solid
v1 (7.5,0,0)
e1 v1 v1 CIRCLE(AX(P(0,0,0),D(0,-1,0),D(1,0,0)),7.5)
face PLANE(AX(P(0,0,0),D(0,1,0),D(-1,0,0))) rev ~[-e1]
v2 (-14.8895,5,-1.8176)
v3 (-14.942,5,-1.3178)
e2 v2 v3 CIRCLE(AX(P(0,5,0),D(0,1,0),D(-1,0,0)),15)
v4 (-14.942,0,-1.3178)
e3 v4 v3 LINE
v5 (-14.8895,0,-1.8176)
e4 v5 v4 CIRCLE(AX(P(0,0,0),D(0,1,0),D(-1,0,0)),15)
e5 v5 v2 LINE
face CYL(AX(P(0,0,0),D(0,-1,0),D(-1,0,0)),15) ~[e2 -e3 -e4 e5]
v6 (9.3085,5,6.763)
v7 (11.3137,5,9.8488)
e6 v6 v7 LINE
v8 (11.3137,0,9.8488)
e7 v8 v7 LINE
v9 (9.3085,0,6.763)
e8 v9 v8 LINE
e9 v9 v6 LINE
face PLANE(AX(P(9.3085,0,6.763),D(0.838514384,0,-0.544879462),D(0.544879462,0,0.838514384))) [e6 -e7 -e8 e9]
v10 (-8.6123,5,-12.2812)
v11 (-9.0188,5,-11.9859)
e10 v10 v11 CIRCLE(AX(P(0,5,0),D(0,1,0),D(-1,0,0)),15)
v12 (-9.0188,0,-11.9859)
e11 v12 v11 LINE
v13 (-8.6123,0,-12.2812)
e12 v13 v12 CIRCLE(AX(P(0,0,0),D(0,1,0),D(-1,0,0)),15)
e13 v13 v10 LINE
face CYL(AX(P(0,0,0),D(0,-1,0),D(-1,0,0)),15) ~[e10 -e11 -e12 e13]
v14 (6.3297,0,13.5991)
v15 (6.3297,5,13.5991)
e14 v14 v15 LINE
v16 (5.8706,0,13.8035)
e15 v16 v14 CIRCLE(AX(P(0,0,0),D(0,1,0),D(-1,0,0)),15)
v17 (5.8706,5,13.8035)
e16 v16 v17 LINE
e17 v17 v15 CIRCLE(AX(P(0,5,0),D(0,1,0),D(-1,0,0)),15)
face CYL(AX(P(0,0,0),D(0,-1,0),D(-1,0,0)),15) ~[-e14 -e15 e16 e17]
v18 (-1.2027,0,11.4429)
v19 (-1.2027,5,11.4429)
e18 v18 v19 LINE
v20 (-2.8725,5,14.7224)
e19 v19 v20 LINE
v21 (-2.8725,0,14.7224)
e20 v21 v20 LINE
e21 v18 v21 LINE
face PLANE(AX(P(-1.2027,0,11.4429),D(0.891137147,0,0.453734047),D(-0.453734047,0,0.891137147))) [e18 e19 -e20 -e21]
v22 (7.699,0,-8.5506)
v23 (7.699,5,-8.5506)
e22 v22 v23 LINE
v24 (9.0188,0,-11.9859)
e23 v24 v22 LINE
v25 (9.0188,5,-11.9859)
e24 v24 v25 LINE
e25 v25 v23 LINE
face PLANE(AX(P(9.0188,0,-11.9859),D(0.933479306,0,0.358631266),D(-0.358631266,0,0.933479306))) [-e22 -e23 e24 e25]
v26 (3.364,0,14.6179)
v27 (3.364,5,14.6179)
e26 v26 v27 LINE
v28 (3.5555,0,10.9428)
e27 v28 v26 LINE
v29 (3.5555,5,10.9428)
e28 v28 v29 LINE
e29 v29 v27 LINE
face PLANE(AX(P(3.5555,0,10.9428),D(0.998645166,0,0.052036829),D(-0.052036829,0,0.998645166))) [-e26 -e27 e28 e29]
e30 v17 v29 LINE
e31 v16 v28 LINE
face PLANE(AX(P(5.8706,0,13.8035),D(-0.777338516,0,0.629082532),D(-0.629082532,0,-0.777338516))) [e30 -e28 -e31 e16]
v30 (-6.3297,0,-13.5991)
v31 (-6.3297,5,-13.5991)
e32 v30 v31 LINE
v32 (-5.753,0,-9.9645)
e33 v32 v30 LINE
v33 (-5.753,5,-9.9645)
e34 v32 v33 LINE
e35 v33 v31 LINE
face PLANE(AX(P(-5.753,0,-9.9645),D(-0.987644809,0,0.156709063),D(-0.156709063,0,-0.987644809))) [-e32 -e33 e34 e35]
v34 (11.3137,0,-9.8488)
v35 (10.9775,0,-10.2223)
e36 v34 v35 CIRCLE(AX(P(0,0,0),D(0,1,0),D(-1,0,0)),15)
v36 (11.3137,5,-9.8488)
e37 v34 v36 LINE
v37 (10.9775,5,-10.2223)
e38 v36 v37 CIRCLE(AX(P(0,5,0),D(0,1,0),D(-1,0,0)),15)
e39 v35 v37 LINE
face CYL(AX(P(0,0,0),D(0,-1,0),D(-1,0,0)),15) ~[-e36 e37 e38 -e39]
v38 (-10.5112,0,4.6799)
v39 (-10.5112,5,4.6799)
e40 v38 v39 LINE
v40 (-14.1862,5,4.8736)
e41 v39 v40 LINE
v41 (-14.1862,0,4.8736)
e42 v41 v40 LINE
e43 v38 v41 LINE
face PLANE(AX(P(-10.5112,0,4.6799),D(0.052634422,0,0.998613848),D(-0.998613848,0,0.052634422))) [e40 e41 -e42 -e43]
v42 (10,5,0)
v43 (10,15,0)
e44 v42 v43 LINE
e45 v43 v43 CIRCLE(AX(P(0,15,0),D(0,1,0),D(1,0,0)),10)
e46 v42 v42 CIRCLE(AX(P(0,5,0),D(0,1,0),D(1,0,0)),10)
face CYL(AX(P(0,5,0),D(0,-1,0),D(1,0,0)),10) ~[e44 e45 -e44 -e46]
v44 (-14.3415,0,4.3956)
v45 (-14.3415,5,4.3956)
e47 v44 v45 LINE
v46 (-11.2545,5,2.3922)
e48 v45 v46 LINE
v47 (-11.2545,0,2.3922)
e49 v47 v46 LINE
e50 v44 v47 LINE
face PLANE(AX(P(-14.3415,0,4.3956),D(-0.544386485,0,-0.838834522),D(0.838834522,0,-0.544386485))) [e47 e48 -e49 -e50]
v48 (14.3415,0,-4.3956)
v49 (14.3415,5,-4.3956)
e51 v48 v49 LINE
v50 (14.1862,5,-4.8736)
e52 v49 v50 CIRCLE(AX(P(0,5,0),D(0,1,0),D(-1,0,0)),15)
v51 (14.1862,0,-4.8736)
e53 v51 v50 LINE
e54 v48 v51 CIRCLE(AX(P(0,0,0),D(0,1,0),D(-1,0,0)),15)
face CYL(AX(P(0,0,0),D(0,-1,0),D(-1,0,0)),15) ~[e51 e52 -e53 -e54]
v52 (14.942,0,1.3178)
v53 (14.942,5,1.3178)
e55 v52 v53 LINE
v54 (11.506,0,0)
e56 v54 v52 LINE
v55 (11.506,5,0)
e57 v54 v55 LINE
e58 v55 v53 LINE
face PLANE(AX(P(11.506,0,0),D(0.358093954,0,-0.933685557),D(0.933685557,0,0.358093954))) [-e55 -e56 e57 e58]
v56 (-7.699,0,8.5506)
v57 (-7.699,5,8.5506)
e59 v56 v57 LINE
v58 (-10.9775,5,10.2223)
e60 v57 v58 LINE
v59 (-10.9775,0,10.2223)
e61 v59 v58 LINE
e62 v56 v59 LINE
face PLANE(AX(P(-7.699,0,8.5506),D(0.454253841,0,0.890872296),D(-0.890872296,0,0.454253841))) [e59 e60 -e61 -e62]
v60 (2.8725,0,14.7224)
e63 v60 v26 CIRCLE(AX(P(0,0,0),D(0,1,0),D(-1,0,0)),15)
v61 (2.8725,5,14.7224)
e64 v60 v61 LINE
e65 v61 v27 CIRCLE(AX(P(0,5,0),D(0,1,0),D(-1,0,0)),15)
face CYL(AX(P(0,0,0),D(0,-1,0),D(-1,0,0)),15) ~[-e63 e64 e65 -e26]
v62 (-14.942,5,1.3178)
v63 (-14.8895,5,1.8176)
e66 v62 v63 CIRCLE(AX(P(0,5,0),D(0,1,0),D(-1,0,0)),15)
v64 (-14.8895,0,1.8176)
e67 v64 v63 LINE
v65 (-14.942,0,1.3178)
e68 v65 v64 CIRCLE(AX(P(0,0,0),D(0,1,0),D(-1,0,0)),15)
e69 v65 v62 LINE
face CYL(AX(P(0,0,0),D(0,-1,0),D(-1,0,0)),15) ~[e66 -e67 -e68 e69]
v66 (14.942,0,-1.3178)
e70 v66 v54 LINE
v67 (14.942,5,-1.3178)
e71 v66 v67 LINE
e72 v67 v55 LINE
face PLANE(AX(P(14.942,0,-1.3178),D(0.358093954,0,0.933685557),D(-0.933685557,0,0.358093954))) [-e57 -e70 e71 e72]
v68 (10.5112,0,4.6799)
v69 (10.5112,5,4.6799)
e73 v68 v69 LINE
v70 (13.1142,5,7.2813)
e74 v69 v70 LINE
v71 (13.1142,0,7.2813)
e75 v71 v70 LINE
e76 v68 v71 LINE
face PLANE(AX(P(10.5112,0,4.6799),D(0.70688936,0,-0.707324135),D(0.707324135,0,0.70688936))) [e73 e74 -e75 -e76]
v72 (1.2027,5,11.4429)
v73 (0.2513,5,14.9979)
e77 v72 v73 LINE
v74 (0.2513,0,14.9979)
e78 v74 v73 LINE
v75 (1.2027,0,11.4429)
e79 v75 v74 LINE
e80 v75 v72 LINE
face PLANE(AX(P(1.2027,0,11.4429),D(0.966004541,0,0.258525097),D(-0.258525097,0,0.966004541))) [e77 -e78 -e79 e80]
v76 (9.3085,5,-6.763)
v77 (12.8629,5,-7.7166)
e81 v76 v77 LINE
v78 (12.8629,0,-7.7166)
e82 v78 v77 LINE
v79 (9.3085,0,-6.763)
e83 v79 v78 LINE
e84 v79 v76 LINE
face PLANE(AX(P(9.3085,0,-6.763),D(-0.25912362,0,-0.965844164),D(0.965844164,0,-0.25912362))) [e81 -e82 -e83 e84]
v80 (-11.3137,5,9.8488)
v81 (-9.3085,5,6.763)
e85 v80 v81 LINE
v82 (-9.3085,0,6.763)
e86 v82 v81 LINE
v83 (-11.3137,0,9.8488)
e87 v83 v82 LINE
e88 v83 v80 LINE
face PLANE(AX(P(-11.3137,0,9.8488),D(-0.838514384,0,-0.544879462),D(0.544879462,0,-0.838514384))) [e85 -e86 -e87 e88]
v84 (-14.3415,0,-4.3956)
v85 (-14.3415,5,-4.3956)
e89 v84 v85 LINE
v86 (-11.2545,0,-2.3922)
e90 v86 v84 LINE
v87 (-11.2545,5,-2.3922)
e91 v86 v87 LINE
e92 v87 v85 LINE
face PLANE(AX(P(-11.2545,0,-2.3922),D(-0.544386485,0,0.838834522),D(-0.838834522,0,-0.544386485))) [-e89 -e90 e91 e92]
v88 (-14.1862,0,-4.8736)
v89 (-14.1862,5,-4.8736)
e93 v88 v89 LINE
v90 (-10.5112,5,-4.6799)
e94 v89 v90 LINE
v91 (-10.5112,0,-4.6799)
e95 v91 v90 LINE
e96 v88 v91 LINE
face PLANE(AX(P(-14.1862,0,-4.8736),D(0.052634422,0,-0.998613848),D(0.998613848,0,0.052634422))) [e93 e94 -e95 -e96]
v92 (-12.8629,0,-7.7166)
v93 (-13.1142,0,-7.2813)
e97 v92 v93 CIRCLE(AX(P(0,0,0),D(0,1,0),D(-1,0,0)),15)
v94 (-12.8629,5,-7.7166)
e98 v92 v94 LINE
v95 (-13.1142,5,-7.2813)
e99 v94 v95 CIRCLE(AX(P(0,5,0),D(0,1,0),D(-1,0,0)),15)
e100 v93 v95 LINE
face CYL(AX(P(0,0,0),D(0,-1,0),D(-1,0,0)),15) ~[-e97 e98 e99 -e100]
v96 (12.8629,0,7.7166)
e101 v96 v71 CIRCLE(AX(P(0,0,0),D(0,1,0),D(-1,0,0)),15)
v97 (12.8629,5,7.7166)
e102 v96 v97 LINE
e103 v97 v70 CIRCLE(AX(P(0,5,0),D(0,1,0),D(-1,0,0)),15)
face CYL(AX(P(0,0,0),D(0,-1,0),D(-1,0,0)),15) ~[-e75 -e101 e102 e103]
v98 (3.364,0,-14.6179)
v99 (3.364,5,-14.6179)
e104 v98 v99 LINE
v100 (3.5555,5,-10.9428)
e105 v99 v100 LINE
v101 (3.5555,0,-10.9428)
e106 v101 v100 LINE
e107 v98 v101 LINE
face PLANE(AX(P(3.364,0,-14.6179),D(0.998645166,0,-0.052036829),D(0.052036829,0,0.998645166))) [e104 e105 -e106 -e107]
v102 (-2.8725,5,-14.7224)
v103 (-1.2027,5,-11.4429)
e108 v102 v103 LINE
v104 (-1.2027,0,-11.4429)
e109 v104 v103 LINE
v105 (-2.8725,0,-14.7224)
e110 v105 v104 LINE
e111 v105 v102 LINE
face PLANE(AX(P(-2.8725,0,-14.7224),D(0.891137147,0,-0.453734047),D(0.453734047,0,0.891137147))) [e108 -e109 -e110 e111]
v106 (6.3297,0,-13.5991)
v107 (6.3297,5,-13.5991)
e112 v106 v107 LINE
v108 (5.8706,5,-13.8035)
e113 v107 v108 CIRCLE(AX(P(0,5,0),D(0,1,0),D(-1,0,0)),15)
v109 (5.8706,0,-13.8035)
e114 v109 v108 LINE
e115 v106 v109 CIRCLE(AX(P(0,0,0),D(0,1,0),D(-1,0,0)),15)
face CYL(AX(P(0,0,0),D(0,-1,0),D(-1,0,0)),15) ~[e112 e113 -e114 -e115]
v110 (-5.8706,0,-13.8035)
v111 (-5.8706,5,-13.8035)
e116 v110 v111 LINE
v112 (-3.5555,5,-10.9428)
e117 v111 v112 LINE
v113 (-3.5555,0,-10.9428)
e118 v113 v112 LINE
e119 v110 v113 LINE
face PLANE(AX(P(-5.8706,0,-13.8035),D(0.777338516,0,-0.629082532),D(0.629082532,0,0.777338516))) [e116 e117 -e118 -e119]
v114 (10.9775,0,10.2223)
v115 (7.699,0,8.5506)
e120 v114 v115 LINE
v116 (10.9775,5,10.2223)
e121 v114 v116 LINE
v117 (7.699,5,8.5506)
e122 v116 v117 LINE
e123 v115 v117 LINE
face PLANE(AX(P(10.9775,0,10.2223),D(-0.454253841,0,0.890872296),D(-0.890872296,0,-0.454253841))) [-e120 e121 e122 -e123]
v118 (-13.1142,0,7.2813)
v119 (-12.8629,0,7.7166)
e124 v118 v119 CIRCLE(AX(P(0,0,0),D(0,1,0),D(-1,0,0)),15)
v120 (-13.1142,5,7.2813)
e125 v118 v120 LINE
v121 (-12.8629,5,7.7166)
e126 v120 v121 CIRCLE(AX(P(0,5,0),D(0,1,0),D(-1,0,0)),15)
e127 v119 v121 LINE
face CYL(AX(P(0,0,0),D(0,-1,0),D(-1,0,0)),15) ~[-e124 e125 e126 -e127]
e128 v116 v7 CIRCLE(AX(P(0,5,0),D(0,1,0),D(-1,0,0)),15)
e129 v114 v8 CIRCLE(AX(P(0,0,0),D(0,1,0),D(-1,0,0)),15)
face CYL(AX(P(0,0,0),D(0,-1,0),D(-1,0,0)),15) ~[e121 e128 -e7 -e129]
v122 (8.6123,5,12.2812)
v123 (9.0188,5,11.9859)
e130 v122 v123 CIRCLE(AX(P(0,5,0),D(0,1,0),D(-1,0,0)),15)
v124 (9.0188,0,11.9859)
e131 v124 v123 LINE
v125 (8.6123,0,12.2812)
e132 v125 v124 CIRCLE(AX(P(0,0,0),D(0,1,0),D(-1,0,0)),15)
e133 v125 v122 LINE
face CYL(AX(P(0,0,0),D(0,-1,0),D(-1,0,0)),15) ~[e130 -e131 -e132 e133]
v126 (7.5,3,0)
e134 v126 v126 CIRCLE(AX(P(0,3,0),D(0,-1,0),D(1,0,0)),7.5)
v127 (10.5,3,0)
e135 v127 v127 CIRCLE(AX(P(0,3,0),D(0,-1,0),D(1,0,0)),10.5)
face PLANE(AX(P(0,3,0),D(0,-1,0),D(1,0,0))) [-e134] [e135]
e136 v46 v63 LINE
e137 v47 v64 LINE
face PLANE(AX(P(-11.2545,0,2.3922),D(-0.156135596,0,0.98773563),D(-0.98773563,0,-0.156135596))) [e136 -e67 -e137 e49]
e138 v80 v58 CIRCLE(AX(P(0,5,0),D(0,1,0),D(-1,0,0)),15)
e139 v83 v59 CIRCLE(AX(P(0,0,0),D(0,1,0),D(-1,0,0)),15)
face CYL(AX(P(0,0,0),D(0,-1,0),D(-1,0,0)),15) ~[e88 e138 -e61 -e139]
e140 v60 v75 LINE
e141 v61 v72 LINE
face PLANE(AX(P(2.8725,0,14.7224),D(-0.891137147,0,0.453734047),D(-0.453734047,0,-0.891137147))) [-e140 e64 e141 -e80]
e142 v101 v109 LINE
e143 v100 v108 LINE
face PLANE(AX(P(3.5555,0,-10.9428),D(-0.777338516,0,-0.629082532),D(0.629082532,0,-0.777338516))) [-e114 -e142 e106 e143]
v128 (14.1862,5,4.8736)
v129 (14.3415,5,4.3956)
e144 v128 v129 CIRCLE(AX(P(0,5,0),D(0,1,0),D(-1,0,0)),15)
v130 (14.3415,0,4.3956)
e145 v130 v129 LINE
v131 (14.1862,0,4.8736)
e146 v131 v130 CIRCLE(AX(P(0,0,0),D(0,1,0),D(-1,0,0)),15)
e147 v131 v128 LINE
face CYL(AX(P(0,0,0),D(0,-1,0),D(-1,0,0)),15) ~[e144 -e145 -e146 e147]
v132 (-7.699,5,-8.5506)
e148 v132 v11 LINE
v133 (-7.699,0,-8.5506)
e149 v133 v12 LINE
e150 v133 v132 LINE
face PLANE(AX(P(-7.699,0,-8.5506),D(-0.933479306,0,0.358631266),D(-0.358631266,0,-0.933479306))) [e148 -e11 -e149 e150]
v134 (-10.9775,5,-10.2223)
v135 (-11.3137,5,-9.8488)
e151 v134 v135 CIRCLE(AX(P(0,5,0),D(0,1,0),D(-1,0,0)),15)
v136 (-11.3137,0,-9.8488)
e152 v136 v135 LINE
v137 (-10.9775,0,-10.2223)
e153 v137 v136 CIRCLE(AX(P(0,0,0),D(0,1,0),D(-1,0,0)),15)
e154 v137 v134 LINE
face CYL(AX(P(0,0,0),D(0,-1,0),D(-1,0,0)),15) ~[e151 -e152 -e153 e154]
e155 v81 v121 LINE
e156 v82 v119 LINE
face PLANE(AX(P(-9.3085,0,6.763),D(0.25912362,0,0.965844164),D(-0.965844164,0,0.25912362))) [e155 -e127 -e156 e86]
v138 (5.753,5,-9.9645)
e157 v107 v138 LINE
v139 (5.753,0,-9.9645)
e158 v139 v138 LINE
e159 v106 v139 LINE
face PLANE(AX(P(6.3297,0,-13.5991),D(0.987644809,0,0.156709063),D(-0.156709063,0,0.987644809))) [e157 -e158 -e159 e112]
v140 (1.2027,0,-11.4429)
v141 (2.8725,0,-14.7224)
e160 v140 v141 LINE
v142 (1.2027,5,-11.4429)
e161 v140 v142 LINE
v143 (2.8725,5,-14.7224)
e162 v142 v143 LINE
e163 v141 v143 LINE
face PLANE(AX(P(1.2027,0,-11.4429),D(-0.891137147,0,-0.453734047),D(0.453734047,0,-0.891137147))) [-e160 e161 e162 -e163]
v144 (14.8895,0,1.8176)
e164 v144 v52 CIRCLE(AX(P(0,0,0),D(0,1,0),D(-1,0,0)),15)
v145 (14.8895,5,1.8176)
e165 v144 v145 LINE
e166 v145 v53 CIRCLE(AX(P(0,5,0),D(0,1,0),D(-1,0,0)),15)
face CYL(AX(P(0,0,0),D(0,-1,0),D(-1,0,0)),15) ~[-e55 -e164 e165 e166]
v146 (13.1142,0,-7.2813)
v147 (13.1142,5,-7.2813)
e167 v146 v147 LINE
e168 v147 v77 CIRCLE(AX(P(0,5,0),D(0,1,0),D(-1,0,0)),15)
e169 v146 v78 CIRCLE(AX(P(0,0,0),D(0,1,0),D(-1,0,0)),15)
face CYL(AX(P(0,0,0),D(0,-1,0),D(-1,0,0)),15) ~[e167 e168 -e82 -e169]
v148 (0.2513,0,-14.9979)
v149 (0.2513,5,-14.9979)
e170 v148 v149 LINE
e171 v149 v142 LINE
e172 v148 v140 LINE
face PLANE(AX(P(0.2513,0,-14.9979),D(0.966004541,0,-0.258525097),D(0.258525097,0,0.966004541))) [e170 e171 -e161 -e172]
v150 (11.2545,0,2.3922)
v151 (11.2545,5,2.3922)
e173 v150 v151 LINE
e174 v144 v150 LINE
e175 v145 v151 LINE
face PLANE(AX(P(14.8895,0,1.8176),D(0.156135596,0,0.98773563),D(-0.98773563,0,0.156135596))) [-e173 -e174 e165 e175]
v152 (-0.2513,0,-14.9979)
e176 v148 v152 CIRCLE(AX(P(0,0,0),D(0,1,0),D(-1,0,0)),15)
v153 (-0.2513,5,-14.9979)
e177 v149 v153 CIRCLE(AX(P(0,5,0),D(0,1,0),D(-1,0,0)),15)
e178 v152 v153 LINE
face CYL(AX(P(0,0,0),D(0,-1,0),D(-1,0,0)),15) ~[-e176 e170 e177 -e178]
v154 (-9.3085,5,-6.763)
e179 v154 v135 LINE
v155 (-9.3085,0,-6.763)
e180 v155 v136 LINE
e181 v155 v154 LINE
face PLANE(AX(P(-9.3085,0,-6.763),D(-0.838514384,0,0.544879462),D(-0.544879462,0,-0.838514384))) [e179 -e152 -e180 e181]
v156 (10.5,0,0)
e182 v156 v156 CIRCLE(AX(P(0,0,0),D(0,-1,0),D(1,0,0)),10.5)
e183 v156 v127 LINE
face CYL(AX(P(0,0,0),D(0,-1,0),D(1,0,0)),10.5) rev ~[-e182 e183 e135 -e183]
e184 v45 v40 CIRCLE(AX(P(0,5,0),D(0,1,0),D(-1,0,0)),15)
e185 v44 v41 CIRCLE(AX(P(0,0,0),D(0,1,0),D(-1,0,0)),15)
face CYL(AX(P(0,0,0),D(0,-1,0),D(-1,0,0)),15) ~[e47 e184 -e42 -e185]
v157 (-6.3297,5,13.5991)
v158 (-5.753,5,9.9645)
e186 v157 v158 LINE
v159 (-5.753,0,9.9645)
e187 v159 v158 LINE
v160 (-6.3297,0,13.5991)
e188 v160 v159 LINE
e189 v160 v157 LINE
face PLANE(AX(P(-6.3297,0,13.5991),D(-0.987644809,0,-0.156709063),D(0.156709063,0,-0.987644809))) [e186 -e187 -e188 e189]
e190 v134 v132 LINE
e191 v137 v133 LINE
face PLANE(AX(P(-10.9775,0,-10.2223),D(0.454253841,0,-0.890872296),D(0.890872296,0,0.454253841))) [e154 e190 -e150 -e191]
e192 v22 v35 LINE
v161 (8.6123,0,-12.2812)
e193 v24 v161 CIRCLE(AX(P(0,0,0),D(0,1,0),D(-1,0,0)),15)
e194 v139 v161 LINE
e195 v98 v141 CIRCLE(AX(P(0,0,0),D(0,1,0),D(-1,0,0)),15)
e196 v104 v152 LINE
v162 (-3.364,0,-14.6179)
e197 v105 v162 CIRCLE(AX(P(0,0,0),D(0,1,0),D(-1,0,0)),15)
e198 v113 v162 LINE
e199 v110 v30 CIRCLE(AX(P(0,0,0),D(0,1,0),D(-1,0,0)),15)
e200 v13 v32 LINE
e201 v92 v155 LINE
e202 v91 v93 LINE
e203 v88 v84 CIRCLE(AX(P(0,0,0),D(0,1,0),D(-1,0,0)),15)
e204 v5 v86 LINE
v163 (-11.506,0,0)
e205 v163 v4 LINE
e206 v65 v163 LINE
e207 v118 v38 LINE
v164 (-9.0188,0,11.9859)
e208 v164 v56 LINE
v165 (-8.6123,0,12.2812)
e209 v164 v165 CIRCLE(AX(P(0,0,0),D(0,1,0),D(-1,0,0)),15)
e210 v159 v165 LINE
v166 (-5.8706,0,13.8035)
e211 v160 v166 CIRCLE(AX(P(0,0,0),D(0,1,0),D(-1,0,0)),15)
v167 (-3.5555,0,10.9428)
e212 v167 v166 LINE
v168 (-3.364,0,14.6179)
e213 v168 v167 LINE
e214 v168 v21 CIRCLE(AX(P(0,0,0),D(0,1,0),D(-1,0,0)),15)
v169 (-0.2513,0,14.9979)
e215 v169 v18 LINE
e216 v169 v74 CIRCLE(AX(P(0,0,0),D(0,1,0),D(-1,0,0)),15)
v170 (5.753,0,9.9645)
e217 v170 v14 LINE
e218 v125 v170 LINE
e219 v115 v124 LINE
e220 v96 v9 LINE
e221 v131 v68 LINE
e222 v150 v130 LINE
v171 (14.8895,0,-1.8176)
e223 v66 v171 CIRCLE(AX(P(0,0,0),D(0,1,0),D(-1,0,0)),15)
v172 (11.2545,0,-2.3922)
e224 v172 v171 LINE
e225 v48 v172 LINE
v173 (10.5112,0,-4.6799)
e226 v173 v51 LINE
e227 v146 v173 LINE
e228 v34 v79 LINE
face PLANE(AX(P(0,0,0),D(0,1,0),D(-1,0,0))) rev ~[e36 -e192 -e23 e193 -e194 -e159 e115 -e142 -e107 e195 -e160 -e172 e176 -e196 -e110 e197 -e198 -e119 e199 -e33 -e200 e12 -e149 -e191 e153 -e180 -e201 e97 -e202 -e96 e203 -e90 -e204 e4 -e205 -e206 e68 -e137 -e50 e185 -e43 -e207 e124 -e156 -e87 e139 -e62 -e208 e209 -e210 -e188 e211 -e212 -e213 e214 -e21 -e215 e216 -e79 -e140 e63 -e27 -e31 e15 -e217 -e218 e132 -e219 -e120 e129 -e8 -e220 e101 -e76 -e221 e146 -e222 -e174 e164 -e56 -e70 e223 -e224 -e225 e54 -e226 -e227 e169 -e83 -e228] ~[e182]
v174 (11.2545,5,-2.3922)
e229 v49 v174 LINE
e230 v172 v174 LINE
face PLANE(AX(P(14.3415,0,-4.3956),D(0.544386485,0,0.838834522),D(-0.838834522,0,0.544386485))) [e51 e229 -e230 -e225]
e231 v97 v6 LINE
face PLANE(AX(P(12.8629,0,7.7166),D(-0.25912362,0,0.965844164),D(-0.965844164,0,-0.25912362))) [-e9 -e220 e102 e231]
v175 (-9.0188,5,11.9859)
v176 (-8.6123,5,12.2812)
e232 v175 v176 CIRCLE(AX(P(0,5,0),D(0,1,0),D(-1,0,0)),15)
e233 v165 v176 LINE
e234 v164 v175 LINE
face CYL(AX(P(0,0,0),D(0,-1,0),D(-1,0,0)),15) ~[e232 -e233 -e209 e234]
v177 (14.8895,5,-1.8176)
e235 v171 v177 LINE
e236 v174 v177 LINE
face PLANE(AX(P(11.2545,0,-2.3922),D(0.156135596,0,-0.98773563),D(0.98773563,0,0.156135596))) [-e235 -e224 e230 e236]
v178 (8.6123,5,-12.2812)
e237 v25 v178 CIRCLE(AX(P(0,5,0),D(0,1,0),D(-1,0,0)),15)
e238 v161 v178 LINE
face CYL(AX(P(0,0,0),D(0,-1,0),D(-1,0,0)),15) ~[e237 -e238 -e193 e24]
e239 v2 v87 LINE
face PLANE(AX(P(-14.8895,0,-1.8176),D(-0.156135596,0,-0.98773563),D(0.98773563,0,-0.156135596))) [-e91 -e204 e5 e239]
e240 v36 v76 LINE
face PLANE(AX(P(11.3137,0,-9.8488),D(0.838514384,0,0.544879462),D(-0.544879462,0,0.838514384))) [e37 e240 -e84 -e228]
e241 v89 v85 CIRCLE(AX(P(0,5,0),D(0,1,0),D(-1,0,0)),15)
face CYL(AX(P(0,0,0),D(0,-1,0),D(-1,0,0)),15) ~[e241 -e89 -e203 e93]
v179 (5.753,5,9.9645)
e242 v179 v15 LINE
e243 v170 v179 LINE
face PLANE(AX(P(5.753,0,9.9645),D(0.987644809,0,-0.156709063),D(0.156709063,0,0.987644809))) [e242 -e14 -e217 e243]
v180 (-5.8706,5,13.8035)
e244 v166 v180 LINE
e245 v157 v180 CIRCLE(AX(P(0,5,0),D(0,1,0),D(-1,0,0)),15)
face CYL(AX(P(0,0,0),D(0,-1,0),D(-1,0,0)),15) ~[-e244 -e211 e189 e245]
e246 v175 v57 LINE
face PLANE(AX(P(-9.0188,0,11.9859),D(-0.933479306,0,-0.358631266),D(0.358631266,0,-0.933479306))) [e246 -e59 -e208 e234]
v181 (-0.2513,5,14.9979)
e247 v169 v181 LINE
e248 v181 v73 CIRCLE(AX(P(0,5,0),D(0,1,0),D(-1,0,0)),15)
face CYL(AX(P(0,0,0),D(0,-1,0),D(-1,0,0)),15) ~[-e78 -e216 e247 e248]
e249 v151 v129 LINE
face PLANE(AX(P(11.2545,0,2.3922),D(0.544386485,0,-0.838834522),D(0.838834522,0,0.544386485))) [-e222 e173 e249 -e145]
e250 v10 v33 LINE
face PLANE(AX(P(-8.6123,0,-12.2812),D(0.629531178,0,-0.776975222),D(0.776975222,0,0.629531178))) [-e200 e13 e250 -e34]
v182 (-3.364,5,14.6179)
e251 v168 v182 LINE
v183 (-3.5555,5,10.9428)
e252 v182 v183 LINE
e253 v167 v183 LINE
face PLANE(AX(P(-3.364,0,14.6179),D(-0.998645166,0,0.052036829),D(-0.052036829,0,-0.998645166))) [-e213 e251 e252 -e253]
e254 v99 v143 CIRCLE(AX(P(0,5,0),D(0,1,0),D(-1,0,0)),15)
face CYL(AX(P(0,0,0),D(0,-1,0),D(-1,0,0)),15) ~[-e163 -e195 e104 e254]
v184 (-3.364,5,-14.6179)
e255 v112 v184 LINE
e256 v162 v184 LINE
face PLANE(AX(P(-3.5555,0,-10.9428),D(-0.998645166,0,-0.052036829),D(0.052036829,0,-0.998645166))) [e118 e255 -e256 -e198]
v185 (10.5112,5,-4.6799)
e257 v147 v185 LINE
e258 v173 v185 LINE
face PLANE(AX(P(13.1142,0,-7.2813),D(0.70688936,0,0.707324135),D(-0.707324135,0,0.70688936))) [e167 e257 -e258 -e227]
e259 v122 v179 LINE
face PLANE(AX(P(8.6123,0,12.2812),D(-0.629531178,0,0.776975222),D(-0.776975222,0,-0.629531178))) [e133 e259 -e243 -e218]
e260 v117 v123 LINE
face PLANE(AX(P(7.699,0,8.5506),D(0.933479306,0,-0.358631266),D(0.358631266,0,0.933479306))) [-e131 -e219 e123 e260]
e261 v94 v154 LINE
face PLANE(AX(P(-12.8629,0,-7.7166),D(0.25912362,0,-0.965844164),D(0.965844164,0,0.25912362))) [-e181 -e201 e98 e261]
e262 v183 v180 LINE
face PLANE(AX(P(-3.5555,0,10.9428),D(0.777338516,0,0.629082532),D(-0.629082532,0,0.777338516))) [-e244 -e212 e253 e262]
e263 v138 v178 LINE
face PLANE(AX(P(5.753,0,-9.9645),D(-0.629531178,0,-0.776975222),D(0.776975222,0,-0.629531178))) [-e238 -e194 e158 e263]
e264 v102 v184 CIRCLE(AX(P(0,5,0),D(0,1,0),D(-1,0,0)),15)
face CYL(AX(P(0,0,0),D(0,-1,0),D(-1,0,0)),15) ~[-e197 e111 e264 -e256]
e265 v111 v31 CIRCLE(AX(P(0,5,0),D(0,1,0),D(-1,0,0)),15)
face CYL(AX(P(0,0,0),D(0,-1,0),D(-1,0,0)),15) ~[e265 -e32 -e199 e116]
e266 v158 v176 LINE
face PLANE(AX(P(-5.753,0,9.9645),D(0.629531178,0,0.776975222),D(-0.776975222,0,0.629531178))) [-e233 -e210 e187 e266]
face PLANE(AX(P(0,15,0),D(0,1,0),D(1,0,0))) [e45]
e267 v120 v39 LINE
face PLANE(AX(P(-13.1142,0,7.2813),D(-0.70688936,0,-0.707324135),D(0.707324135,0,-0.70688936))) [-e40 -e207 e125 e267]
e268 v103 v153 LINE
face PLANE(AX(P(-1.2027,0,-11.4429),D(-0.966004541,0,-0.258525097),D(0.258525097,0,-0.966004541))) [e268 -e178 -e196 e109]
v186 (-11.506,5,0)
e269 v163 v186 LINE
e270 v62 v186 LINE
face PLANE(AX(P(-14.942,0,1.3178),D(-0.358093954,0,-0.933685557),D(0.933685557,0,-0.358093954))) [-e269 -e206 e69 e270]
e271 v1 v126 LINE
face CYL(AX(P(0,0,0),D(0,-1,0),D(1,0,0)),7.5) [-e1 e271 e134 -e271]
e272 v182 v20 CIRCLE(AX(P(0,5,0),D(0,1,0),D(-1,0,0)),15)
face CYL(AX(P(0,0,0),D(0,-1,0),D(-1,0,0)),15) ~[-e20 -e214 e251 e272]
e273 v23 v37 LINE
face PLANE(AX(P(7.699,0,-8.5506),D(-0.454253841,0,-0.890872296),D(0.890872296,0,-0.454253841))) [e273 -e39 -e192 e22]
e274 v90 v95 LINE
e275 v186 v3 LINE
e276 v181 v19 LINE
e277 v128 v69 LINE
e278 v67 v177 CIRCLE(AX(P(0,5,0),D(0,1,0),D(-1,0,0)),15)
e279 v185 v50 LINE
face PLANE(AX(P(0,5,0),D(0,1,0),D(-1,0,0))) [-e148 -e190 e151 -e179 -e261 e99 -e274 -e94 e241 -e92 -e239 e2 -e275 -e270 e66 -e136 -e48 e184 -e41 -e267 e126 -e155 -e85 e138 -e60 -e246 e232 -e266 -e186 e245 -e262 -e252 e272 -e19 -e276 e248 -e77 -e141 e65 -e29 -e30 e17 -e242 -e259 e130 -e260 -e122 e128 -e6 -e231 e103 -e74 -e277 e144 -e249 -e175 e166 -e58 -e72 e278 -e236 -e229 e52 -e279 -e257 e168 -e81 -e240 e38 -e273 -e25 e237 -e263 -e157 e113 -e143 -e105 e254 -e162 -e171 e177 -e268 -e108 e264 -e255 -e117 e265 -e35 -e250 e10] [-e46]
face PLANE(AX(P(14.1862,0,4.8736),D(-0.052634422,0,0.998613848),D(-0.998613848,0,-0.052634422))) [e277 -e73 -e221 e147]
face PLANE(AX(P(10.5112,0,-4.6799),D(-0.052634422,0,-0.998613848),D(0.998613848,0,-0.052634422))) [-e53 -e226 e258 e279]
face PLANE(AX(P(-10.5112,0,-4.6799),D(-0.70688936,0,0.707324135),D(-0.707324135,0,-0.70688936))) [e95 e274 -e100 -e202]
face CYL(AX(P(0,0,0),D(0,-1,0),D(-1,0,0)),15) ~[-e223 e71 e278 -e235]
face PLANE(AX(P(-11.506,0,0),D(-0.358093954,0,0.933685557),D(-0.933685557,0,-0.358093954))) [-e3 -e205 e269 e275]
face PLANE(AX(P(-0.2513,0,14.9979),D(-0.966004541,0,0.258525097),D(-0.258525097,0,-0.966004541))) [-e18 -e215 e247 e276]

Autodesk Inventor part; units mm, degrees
ref_plane "YZ Plane" through (0, 0, 0) normal (1, 0, 0) x (0, 1, 0)
ref_plane "XZ Plane" through (0, 0, 0) normal (0, 1, 0) x (-1, 0, 0)
ref_plane "XY Plane" through (0, 0, 0) normal (0, 0, 1) x (1, 0, 0)
sketch "Sketch1" plane through (0, 0, 0) normal (0, 1, 0) x (-1, 0, 0)
  circle A0 centre (0, 0) radius 15
  line L0 (14.942, 1.3178) -> (11.506, 0)
  line L1 (11.506, 0) -> (14.942, -1.3178)
  line L2 (14.3415, 4.3956) -> (11.2545, 2.3922)
  line L3 (11.2545, 2.3922) -> (14.8895, 1.8176)
  line L4 (13.1142, 7.2813) -> (10.5112, 4.6799)
  line L5 (10.5112, 4.6799) -> (14.1862, 4.8736)
  line L6 (11.3137, 9.8488) -> (9.3085, 6.763)
  line L7 (9.3085, 6.763) -> (12.8629, 7.7166)
  line L8 (9.0188, 11.9859) -> (7.699, 8.5506)
  line L9 (7.699, 8.5506) -> (10.9775, 10.2223)
  line L10 (6.3297, 13.5991) -> (5.753, 9.9645)
  line L11 (5.753, 9.9645) -> (8.6123, 12.2812)
  line L12 (3.364, 14.6179) -> (3.5555, 10.9428)
  line L13 (3.5555, 10.9428) -> (5.8706, 13.8035)
  line L14 (0.2513, 14.9979) -> (1.2027, 11.4429)
  line L15 (1.2027, 11.4429) -> (2.8725, 14.7224)
  line L16 (-2.8725, 14.7224) -> (-1.2027, 11.4429)
  line L17 (-1.2027, 11.4429) -> (-0.2513, 14.9979)
  line L18 (-5.8706, 13.8035) -> (-3.5555, 10.9428)
  line L19 (-3.5555, 10.9428) -> (-3.364, 14.6179)
  line L20 (-8.6123, 12.2812) -> (-5.753, 9.9645)
  line L21 (-5.753, 9.9645) -> (-6.3297, 13.5991)
  line L22 (-10.9775, 10.2223) -> (-7.699, 8.5506)
  line L23 (-7.699, 8.5506) -> (-9.0188, 11.9859)
  line L24 (-12.8629, 7.7166) -> (-9.3085, 6.763)
  line L25 (-9.3085, 6.763) -> (-11.3137, 9.8488)
  line L26 (-14.1862, 4.8736) -> (-10.5112, 4.6799)
  line L27 (-10.5112, 4.6799) -> (-13.1142, 7.2813)
  line L28 (-14.8895, 1.8176) -> (-11.2545, 2.3922)
  line L29 (-11.2545, 2.3922) -> (-14.3415, 4.3956)
  line L30 (-14.942, -1.3178) -> (-11.506, 0)
  line L31 (-11.506, 0) -> (-14.942, 1.3178)
  line L32 (-14.3415, -4.3956) -> (-11.2545, -2.3922)
  line L33 (-11.2545, -2.3922) -> (-14.8895, -1.8176)
  line L34 (-13.1142, -7.2813) -> (-10.5112, -4.6799)
  line L35 (-10.5112, -4.6799) -> (-14.1862, -4.8736)
  line L36 (-11.3137, -9.8488) -> (-9.3085, -6.763)
  line L37 (-9.3085, -6.763) -> (-12.8629, -7.7166)
  line L38 (-9.0188, -11.9859) -> (-7.699, -8.5506)
  line L39 (-7.699, -8.5506) -> (-10.9775, -10.2223)
  line L40 (-6.3297, -13.5991) -> (-5.753, -9.9645)
  line L41 (-5.753, -9.9645) -> (-8.6123, -12.2812)
  line L42 (-3.364, -14.6179) -> (-3.5555, -10.9428)
  line L43 (-3.5555, -10.9428) -> (-5.8706, -13.8035)
  line L44 (-0.2513, -14.9979) -> (-1.2027, -11.4429)
  line L45 (-1.2027, -11.4429) -> (-2.8725, -14.7224)
  line L46 (2.8725, -14.7224) -> (1.2027, -11.4429)
  line L47 (1.2027, -11.4429) -> (0.2513, -14.9979)
  line L48 (5.8706, -13.8035) -> (3.5555, -10.9428)
  line L49 (3.5555, -10.9428) -> (3.364, -14.6179)
  line L50 (8.6123, -12.2812) -> (5.753, -9.9645)
  line L51 (5.753, -9.9645) -> (6.3297, -13.5991)
  line L52 (10.9775, -10.2223) -> (7.699, -8.5506)
  line L53 (7.699, -8.5506) -> (9.0188, -11.9859)
  line L54 (12.8629, -7.7166) -> (9.3085, -6.763)
  line L55 (9.3085, -6.763) -> (11.3137, -9.8488)
  line L56 (14.1862, -4.8736) -> (10.5112, -4.6799)
  line L57 (10.5112, -4.6799) -> (13.1142, -7.2813)
  line L58 (14.8895, -1.8176) -> (11.2545, -2.3922)
  line L59 (11.2545, -2.3922) -> (14.3415, -4.3956)
  dimension "d0" = 30
  dimension "d3" = 360
extrude "Extrusion1" add sketch "Sketch1" along normal blind 5 contours L0 L1 A0 L58 L59 L56 L57 L54 L55 L52 L53 L50 L51 L48 L49 L46 L47 L44 L45 L42 L43 L40 L41 L38 L39 L36 L37 L34 L35 L32 L33 L30 L31 L28 L29 L26 L27 L24 L25 L22 L23 L20 L21 L18 L19 L16 L17 L14 L15 L12 L13 L10 L11 L8 L9 L6 L7 L4 L5 L2 L3
sketch "Sketch2" plane through (0, 0, 0) normal (0, -1, 0) x (1, 0, 0)
  circle A0 centre (0, 0) radius 10.5
  circle A1 centre (0, 0) radius 7.5
  dimension "d7" = 3
  dimension "d8" = 15
extrude "Extrusion2" cut sketch "Sketch2" against normal blind 3
sketch "Sketch3" plane through (0, 5, 0) normal (0, 1, 0) x (1, 0, 0)
  circle A0 centre (0, 0) radius 10
  dimension "d11" = 20
extrude "Extrusion3" add sketch "Sketch3" along normal blind 10
properties part number "PlanetaryGear"
